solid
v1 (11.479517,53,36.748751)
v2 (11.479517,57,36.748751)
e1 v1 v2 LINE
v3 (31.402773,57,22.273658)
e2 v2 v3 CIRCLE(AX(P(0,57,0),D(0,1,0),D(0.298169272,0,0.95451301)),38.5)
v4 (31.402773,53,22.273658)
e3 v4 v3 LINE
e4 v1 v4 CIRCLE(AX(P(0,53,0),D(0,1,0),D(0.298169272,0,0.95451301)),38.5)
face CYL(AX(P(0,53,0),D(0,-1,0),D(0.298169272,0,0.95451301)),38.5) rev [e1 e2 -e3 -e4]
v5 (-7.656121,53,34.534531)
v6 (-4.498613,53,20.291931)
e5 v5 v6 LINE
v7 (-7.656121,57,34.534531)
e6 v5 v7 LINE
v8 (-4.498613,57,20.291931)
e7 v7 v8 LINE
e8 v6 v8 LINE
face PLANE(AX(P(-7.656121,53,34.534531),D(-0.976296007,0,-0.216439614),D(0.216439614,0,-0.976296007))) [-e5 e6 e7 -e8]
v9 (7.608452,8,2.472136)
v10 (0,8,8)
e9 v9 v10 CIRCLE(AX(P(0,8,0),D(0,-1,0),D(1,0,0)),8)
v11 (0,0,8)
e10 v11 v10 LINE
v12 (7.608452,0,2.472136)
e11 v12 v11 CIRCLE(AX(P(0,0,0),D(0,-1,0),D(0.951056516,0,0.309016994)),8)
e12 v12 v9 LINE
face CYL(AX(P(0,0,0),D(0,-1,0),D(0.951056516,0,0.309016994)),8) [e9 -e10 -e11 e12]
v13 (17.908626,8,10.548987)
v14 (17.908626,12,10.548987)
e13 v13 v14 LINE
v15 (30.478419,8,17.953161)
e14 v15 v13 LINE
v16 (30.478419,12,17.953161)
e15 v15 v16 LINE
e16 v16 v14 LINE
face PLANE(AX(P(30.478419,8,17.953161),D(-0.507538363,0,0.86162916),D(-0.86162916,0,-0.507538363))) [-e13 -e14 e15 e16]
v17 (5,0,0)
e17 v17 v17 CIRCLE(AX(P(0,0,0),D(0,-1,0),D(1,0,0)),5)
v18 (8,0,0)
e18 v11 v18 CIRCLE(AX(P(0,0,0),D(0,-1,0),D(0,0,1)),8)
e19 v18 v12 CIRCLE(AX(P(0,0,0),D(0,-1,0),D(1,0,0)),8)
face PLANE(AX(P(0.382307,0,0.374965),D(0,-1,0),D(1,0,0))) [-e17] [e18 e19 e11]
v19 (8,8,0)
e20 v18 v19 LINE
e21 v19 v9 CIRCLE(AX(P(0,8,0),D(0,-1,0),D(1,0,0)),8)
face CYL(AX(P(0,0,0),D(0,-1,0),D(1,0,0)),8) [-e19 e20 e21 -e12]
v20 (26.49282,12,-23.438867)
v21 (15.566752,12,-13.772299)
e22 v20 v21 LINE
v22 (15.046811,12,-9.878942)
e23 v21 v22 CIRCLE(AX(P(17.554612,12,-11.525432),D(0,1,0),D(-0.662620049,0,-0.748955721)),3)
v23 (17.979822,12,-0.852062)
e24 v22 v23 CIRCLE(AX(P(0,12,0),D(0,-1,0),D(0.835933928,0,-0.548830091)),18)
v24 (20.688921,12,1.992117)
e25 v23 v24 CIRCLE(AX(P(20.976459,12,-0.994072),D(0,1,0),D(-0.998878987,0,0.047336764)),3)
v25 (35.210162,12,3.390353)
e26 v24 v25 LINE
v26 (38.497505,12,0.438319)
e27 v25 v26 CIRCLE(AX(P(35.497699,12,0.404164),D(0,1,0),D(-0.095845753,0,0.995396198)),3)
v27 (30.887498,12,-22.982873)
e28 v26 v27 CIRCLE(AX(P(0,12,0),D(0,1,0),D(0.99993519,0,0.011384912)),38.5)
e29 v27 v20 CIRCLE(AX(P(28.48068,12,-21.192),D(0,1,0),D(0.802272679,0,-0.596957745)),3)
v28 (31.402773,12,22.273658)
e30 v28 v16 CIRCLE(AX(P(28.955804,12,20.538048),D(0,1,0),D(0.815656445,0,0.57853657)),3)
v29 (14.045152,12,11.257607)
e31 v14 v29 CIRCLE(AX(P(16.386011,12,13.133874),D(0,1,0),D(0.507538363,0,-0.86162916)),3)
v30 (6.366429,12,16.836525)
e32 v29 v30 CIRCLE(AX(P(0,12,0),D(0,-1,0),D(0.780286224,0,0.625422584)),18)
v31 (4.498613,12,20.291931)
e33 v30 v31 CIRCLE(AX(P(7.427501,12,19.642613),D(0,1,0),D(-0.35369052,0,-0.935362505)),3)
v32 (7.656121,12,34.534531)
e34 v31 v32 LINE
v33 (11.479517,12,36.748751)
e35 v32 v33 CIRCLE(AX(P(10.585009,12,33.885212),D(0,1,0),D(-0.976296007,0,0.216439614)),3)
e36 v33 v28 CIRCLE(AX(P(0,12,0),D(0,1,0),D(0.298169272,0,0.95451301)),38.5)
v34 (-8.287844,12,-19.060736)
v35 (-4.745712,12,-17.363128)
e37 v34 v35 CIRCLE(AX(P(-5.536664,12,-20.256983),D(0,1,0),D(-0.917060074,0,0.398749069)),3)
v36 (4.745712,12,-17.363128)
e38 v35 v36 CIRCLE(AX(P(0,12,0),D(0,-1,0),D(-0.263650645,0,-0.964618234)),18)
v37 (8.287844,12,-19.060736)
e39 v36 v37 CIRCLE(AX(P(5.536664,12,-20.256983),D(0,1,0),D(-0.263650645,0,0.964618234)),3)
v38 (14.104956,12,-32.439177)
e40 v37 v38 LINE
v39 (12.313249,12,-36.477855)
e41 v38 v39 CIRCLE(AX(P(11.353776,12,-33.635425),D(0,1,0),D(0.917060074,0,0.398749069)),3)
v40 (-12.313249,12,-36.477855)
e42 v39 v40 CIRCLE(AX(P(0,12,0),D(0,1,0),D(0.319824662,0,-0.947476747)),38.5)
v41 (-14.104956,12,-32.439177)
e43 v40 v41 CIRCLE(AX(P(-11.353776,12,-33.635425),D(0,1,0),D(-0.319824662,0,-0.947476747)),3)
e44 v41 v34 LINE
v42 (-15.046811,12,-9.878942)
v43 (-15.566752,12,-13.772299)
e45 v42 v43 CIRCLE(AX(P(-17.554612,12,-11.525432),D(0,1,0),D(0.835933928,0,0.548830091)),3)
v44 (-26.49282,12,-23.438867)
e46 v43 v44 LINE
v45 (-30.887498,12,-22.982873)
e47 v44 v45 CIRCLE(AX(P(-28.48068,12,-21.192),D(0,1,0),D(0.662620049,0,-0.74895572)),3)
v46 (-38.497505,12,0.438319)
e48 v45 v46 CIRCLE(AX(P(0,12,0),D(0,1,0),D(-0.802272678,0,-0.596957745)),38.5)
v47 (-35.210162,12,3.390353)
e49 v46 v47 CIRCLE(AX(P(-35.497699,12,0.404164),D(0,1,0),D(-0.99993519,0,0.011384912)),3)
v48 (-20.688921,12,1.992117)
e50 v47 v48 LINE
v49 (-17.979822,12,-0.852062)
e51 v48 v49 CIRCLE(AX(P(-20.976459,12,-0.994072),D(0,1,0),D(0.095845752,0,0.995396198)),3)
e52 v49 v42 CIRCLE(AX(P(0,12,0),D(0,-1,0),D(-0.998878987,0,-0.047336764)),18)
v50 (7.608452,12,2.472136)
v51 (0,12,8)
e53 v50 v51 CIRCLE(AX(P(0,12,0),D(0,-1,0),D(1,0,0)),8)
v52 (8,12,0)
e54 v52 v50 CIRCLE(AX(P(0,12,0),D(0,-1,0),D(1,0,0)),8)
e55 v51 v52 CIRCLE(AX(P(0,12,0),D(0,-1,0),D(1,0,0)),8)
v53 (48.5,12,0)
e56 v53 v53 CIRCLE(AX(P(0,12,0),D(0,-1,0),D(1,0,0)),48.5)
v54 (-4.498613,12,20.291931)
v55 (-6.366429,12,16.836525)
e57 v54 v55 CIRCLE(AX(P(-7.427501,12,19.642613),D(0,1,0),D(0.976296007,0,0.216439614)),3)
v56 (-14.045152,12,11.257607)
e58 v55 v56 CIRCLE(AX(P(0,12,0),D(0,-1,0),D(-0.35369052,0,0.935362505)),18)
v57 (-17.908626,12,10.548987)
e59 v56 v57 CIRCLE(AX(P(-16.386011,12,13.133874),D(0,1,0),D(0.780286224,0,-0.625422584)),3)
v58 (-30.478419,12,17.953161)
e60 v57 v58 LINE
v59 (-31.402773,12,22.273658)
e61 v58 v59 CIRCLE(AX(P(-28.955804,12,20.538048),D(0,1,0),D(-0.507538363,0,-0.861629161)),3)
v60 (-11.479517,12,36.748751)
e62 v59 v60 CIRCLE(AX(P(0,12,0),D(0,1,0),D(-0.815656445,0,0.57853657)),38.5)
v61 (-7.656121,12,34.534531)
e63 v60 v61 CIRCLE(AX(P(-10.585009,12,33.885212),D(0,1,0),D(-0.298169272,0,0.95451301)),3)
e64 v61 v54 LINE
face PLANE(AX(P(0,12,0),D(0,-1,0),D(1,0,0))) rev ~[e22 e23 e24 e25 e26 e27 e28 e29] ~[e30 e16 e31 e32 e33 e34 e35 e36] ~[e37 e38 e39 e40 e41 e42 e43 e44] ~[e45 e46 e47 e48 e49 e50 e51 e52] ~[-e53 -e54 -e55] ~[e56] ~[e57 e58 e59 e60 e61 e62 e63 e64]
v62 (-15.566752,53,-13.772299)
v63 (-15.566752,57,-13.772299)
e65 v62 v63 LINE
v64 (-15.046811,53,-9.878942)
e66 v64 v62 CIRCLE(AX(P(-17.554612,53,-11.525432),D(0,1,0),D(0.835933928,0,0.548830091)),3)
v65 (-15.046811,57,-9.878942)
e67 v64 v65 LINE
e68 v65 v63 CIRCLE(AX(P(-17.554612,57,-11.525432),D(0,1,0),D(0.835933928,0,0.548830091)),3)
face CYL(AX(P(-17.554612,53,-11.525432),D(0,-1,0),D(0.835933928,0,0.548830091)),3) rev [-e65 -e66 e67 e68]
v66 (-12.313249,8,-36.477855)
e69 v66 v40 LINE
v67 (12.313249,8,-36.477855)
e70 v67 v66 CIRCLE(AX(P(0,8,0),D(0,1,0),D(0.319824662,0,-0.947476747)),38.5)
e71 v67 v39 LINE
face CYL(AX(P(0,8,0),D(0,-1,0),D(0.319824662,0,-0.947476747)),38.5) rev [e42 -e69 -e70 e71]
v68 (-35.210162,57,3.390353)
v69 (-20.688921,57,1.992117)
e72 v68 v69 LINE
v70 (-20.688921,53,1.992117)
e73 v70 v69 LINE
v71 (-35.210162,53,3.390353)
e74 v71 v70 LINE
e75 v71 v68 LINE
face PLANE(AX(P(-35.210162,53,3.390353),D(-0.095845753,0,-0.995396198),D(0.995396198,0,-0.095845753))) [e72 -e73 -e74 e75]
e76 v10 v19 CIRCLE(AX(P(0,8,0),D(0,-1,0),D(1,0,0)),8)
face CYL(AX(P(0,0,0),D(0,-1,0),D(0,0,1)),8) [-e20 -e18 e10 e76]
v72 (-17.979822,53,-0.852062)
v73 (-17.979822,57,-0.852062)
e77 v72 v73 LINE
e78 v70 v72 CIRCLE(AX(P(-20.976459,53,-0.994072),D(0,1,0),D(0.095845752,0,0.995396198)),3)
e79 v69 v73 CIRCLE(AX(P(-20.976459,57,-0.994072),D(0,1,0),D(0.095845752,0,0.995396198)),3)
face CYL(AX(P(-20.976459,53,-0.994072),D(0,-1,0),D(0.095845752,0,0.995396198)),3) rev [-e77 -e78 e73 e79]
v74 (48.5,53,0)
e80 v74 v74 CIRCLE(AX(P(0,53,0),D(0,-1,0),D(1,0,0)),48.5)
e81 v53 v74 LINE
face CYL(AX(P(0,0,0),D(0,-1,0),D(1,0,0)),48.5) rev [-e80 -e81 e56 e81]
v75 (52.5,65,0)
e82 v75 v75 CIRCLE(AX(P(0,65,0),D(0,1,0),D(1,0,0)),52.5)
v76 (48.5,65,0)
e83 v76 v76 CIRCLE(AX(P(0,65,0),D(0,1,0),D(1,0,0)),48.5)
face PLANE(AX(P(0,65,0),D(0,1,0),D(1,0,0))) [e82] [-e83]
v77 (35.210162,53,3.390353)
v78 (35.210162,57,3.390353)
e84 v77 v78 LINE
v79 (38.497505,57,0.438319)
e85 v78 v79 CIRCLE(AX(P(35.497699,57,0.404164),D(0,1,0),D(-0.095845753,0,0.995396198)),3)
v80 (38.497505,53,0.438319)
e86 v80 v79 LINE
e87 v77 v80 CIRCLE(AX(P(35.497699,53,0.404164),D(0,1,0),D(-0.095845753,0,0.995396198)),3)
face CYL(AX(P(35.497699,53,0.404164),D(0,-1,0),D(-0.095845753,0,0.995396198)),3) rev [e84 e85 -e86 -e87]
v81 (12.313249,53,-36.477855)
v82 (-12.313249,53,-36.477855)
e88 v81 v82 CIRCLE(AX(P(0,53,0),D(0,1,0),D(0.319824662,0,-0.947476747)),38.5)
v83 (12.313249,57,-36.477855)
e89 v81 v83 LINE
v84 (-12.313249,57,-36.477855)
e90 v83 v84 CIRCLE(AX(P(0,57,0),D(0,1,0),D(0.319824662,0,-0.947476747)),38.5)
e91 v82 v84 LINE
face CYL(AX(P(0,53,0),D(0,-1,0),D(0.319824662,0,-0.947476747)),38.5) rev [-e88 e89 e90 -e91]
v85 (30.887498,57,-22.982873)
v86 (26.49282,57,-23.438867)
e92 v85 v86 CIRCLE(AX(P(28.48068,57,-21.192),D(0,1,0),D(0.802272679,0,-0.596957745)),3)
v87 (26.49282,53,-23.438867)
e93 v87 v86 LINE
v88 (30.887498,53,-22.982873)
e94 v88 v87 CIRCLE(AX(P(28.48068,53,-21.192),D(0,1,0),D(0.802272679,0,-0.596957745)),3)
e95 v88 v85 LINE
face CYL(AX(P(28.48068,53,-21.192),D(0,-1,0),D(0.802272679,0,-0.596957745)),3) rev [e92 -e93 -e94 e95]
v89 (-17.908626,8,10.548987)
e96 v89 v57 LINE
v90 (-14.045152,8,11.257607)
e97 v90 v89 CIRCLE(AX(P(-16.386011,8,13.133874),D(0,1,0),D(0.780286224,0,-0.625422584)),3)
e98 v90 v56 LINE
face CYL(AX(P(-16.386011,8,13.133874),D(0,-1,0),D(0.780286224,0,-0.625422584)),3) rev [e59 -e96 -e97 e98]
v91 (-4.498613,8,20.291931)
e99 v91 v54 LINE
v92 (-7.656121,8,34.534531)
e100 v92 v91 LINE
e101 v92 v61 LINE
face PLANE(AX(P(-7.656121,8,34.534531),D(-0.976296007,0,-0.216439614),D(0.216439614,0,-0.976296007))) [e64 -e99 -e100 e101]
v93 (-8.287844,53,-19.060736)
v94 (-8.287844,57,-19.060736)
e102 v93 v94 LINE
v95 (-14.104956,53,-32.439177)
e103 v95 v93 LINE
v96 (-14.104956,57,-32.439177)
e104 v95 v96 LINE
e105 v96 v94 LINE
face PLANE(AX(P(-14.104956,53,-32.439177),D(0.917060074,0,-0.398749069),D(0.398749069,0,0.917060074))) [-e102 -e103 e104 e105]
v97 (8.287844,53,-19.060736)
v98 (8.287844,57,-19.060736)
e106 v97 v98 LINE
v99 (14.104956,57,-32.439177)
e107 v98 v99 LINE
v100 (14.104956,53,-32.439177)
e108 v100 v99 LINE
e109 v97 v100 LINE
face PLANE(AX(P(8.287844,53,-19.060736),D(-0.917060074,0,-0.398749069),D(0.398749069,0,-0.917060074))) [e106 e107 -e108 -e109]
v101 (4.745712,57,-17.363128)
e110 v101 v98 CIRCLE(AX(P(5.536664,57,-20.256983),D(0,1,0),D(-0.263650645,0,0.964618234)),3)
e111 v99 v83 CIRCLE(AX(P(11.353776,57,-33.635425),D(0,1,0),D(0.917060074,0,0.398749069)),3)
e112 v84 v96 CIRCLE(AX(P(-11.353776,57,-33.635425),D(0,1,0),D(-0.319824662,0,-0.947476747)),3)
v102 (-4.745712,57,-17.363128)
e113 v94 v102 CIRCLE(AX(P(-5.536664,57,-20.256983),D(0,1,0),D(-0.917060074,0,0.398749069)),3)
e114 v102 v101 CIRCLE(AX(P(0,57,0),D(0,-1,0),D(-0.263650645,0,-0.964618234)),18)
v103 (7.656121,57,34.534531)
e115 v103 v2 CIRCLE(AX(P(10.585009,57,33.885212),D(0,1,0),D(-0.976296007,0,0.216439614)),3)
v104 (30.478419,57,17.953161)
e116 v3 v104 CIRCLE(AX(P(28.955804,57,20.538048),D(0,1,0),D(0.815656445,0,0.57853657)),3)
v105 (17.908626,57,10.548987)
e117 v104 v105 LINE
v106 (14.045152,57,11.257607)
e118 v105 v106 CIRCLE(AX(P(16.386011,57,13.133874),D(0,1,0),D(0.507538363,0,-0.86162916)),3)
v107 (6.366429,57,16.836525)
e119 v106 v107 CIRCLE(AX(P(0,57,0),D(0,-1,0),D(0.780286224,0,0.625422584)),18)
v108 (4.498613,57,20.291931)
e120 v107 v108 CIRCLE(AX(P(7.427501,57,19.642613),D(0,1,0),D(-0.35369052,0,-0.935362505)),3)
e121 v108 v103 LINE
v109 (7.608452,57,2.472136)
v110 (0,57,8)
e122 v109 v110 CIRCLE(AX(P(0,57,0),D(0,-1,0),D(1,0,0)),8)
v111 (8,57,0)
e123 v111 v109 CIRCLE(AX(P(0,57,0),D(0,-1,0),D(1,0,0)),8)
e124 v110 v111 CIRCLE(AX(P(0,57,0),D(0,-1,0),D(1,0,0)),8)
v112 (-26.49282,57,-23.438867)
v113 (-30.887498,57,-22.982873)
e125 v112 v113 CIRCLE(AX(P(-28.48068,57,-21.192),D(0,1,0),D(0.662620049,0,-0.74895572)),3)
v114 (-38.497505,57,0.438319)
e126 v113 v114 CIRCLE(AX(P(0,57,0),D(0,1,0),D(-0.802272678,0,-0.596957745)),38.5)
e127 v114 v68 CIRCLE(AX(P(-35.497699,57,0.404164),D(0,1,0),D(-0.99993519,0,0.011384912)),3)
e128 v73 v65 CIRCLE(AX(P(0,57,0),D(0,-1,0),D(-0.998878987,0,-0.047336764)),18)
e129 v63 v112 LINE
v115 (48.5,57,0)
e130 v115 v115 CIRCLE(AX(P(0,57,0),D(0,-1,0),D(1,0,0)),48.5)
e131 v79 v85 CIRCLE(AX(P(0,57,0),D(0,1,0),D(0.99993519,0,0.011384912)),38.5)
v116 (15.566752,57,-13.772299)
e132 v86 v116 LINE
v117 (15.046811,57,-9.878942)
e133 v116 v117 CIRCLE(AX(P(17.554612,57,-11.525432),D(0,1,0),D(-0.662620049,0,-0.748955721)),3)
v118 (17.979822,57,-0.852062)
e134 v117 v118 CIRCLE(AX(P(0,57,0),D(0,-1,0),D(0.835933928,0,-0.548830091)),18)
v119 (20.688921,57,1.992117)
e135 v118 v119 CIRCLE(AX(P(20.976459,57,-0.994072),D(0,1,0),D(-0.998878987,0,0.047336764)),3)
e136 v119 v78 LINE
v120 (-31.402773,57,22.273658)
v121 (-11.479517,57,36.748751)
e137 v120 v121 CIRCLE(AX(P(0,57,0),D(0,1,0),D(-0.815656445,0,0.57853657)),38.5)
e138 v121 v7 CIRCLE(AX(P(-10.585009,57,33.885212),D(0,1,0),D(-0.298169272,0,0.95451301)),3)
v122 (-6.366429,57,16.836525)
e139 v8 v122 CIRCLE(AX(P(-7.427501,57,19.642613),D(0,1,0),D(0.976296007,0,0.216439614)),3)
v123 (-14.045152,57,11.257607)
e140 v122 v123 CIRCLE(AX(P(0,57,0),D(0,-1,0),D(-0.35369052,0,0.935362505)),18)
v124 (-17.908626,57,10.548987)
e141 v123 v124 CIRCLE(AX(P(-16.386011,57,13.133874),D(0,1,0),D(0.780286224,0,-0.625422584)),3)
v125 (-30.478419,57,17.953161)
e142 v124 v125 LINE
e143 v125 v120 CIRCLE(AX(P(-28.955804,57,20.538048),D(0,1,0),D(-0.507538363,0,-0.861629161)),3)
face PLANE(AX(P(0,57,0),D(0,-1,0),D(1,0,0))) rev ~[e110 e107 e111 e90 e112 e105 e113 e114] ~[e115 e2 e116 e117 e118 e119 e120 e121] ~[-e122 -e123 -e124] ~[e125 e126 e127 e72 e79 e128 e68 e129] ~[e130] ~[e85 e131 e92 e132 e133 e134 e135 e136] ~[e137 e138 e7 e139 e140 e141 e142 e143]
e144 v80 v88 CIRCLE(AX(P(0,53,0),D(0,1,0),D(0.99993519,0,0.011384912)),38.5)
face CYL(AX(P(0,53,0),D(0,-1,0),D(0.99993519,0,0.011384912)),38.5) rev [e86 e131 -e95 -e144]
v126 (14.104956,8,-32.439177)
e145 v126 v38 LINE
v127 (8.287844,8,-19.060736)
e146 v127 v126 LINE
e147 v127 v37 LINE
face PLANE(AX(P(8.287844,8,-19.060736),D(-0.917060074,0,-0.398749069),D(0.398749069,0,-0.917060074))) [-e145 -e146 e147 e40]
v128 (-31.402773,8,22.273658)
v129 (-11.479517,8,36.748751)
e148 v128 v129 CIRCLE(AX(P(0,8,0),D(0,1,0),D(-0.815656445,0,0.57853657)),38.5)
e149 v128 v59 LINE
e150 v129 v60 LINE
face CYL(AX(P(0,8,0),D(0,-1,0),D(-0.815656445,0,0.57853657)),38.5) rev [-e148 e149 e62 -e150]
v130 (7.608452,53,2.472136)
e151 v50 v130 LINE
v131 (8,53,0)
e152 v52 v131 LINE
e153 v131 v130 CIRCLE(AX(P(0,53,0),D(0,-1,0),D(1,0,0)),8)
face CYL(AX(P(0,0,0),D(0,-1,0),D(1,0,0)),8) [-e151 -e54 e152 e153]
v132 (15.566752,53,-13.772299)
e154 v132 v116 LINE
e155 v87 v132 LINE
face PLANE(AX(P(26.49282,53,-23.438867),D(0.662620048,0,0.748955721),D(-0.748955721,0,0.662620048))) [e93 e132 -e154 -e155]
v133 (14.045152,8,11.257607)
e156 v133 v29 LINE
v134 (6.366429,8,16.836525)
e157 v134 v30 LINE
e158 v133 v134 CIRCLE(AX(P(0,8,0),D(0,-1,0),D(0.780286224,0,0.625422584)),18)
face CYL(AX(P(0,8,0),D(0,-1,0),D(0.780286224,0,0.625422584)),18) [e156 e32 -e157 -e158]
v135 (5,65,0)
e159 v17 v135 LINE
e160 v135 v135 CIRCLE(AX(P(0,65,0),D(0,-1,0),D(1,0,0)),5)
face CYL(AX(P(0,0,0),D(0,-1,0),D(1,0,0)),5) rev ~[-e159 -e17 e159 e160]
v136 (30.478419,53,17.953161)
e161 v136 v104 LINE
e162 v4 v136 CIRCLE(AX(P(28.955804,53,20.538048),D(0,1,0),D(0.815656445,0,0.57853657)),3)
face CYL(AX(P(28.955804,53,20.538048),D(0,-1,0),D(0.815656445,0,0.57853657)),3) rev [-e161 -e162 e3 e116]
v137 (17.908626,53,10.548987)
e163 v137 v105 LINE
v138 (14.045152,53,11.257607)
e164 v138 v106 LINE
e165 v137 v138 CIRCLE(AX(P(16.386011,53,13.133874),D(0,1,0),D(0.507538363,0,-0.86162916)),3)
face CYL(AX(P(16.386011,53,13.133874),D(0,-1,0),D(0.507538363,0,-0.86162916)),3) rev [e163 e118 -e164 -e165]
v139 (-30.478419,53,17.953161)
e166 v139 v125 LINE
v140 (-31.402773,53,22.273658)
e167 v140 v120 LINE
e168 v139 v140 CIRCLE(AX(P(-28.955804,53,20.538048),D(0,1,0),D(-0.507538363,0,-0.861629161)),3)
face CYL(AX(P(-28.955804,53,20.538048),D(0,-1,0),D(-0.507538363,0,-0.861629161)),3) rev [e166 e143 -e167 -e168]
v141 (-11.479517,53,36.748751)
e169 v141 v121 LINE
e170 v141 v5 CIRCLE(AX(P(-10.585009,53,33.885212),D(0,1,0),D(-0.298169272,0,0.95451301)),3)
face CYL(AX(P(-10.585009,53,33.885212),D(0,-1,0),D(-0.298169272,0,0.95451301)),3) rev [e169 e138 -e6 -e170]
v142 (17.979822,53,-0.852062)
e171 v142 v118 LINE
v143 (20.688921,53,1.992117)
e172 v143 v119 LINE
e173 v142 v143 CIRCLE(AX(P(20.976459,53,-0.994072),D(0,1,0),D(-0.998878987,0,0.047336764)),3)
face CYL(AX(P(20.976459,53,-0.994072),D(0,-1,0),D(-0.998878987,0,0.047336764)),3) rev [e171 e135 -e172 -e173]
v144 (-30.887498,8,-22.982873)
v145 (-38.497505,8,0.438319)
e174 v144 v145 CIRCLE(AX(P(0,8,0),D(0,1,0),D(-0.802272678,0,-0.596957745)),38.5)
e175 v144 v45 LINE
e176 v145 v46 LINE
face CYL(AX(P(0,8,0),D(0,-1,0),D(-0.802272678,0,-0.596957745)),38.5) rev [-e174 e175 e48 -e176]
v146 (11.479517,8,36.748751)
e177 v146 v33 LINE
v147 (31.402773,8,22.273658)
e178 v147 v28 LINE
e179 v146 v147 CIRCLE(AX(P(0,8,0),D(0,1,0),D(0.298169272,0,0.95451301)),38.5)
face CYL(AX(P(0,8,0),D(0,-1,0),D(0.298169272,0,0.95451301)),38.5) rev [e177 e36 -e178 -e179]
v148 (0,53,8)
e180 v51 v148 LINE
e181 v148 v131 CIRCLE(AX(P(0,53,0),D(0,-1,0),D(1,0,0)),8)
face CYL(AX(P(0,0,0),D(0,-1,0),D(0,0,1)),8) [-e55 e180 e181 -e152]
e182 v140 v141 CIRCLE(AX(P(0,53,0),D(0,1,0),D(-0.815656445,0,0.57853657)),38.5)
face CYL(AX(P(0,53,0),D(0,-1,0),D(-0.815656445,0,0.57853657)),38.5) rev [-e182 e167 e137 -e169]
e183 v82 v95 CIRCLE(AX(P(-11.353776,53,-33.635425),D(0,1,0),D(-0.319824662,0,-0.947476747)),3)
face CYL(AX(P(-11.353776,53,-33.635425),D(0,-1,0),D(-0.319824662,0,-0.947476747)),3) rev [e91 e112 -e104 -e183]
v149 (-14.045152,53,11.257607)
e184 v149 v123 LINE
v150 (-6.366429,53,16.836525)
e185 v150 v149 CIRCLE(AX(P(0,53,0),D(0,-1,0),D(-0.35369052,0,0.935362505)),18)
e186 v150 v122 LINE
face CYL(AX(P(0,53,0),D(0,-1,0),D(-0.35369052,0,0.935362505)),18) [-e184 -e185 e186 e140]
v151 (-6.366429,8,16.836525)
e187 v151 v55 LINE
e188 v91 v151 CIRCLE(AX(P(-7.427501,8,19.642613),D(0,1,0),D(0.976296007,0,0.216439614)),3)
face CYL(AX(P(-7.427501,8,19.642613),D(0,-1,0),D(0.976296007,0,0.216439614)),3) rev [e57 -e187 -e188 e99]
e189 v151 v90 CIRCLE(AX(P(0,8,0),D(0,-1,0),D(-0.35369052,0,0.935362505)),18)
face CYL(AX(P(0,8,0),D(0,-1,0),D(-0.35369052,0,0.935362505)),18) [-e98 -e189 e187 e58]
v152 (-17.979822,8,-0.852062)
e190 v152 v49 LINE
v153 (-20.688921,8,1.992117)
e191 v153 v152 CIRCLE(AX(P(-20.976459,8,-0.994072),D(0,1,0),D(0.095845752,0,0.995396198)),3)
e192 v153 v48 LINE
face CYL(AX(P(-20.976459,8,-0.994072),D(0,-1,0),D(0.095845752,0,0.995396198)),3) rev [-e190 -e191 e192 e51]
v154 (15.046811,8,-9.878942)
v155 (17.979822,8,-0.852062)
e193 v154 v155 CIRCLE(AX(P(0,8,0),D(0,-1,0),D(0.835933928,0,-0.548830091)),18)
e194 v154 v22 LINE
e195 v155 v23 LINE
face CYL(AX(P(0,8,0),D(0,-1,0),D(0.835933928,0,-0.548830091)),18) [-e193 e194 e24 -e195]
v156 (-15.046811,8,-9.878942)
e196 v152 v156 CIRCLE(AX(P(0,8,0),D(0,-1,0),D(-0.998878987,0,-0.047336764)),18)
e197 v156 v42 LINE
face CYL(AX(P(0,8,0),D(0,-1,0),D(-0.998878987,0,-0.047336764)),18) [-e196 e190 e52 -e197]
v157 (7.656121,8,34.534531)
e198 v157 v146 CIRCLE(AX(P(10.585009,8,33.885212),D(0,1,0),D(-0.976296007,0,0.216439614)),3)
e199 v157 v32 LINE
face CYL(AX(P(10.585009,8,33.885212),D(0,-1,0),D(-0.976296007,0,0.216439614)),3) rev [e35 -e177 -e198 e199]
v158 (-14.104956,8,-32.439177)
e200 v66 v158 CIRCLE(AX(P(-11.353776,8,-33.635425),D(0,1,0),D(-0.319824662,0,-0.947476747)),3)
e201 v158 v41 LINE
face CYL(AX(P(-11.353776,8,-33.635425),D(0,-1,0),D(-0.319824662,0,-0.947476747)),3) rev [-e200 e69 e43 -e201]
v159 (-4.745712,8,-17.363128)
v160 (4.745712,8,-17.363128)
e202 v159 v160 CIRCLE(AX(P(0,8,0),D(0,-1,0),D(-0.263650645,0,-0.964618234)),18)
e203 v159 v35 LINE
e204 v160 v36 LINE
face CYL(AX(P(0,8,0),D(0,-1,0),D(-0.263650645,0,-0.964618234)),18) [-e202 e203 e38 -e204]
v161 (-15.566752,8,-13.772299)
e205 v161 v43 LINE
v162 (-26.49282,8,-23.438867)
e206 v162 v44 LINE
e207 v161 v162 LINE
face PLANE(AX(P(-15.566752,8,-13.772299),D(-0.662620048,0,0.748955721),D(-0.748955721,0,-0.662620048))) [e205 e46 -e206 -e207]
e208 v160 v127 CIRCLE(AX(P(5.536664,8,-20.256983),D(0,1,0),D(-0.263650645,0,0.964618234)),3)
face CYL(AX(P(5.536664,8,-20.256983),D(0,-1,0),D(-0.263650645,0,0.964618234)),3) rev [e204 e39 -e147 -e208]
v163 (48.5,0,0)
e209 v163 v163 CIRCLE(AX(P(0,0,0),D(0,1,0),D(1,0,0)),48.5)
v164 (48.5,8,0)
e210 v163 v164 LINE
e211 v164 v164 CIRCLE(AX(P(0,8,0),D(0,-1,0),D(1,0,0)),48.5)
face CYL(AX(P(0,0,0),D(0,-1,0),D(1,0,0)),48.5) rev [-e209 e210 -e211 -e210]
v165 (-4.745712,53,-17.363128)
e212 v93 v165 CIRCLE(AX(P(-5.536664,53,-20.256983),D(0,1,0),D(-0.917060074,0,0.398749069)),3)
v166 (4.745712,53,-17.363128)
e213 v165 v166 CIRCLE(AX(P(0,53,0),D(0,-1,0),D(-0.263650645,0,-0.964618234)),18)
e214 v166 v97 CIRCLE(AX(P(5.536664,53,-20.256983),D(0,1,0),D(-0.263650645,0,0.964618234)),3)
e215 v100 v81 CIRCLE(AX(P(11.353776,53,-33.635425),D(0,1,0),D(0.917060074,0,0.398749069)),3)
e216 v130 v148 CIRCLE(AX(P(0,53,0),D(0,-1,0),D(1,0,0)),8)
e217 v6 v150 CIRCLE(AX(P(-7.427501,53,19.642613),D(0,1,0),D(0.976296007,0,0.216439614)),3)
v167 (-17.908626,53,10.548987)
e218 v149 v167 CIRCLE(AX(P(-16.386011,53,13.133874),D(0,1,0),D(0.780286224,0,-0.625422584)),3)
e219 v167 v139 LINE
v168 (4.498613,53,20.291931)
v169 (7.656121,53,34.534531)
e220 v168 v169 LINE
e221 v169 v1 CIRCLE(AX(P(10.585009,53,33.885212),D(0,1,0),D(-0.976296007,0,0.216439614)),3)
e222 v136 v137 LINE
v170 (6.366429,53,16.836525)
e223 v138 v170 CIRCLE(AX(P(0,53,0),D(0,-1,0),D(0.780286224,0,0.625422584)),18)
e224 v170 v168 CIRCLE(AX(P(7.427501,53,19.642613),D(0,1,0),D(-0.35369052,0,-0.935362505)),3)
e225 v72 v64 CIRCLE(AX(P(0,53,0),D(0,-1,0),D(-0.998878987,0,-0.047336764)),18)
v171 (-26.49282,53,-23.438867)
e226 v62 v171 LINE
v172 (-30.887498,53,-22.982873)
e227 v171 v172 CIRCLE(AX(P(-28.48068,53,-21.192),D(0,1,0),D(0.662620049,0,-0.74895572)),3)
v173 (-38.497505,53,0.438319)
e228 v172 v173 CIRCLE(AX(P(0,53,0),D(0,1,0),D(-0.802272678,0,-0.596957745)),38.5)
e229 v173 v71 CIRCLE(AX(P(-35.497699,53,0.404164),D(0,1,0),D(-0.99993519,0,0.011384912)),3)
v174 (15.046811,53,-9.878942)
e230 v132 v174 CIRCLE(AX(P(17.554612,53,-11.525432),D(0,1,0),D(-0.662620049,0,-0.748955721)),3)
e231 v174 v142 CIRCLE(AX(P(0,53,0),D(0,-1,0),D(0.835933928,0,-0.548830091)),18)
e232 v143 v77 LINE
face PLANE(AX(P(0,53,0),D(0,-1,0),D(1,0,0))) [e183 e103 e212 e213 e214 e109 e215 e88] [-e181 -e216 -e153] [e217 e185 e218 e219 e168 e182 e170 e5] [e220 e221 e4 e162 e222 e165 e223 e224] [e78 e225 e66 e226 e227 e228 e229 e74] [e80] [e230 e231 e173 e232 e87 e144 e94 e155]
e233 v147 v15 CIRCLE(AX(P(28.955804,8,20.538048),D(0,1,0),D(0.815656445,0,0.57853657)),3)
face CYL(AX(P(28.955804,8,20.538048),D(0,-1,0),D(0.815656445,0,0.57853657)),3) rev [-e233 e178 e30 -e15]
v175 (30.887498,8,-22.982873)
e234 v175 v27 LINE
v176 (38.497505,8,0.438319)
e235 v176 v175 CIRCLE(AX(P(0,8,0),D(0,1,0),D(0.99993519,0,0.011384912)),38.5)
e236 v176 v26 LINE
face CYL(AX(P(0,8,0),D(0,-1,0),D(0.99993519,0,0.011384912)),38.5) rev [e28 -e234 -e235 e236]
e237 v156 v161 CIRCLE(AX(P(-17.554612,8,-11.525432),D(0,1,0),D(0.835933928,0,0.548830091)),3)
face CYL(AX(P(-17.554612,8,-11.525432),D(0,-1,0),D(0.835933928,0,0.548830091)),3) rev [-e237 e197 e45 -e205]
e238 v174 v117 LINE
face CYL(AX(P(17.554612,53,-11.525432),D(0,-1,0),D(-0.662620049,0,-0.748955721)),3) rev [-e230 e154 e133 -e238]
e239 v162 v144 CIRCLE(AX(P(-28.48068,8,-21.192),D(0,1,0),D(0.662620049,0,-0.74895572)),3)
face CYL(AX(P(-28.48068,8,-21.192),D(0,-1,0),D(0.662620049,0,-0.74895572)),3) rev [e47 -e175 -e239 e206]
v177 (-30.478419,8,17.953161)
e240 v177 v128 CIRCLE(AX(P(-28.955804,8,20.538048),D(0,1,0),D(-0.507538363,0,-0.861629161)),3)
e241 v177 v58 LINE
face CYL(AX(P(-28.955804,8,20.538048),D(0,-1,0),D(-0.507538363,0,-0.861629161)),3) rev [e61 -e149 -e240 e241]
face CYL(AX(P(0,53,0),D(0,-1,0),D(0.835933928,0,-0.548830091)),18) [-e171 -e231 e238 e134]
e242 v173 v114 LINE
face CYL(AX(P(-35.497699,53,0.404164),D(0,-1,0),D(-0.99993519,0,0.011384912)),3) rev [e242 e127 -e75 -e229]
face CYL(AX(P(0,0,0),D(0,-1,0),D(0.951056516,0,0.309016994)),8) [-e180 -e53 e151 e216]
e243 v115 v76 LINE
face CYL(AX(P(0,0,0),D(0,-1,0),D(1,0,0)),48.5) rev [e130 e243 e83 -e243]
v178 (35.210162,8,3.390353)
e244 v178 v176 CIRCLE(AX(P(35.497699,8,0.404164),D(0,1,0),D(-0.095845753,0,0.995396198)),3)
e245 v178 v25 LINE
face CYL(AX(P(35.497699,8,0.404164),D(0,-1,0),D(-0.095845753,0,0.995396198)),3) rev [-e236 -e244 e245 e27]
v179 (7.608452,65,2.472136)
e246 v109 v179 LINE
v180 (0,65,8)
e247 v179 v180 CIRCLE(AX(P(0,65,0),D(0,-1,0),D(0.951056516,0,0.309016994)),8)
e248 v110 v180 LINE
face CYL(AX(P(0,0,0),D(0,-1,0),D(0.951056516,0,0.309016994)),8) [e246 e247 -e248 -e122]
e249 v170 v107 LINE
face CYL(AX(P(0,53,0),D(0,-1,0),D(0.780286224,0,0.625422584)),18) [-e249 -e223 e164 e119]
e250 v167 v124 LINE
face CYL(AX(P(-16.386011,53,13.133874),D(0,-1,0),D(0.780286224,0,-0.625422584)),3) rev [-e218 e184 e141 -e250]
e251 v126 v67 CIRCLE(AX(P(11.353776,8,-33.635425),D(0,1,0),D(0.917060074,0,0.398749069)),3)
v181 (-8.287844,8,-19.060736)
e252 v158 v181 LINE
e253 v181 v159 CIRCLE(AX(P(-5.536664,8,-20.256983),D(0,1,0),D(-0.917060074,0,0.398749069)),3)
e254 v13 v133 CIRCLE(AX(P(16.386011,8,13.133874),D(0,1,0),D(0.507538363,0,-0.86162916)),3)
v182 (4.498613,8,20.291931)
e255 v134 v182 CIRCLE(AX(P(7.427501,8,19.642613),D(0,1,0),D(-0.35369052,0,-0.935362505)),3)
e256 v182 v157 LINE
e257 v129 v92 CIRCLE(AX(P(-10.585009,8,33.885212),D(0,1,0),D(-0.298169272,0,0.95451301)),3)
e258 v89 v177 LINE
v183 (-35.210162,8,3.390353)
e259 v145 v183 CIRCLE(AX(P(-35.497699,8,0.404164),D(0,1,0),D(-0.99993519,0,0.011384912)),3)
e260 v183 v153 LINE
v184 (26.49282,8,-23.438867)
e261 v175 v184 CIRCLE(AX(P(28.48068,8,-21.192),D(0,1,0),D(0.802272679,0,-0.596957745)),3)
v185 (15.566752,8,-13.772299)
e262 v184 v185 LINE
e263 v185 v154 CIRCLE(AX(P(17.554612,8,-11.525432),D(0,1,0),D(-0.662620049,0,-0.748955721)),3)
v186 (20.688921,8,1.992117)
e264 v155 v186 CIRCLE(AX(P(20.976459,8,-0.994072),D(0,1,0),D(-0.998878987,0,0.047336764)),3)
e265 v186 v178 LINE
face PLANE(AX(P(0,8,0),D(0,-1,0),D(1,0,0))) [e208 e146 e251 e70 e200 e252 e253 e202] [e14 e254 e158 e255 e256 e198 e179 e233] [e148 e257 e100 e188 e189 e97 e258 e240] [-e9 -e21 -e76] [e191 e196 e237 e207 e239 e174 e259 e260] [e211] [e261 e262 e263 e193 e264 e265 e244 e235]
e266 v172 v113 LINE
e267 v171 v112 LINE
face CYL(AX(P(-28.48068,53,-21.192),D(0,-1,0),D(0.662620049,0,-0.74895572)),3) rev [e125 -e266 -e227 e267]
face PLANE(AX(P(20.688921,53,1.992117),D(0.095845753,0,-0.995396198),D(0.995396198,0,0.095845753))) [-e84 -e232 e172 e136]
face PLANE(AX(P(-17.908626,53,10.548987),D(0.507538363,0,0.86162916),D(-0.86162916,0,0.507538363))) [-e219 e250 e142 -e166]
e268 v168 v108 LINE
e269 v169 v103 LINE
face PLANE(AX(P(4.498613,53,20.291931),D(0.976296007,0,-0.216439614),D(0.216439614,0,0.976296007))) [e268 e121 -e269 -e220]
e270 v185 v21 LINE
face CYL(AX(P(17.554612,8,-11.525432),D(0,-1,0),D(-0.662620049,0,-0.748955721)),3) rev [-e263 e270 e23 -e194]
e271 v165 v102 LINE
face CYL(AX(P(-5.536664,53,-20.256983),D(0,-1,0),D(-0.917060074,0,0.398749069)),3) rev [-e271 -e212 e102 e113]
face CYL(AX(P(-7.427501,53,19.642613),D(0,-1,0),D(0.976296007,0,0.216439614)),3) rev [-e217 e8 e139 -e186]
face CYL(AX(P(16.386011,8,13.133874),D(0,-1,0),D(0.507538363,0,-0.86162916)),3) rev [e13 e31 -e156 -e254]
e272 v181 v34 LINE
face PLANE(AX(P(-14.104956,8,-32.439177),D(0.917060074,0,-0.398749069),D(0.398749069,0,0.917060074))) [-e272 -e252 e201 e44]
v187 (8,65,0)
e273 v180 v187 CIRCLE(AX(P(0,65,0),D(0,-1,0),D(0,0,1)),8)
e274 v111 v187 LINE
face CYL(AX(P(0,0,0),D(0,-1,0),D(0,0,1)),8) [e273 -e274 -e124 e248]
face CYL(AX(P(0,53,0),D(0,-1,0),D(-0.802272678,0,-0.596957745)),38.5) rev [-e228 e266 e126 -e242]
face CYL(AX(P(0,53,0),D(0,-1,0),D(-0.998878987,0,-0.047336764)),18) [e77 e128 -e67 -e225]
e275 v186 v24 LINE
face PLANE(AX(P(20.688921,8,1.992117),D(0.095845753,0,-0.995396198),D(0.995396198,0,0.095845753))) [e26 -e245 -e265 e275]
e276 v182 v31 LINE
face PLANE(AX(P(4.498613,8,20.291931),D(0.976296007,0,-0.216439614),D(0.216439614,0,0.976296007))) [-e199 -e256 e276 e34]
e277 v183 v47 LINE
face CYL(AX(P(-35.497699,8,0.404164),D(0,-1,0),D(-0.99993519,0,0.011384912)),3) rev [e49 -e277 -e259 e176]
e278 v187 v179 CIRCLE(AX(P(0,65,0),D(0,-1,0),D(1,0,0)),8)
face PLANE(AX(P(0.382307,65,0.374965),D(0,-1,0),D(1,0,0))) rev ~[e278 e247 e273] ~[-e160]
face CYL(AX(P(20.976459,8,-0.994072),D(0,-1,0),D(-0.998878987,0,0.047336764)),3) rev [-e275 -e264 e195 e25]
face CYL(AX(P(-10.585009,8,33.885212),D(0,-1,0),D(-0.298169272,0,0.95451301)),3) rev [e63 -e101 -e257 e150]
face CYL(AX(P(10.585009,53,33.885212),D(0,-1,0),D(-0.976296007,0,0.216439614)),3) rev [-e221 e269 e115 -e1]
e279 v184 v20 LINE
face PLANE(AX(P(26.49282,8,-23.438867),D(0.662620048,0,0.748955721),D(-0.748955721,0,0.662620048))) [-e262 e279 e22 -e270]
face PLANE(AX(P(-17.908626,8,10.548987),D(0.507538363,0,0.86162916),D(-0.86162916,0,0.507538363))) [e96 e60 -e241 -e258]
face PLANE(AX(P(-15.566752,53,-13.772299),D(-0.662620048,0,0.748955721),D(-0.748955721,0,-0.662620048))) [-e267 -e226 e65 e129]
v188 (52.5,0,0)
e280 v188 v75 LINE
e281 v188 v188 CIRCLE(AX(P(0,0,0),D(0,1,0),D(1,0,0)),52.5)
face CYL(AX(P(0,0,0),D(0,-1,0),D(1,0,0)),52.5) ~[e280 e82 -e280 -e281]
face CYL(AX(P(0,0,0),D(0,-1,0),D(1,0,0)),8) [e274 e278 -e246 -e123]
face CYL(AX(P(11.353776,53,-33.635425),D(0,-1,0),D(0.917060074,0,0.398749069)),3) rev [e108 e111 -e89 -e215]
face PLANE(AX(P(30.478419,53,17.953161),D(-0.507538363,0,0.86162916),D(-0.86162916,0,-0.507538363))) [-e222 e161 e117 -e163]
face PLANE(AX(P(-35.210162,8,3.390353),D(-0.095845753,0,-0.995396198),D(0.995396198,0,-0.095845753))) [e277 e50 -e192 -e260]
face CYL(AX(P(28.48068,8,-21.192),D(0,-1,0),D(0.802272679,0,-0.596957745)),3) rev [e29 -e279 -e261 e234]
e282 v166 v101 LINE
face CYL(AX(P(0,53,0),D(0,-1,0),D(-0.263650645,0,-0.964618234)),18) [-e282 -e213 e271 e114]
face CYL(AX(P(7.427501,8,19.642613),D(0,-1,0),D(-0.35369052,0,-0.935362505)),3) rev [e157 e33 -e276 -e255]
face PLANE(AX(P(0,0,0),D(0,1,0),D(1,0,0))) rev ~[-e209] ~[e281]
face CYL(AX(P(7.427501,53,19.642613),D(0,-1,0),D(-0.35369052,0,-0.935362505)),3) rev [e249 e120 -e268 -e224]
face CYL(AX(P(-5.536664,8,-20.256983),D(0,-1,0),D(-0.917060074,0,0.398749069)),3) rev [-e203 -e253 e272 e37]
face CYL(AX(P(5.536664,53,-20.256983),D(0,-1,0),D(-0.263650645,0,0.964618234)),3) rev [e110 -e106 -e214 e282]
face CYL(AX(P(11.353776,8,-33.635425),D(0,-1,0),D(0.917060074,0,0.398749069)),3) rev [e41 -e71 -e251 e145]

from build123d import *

# Parameters (mm, degrees)
SKETCH1_R           = 52.5
SKETCH1_R_2         = 48.5
BOSS_EXTRUDE1_DEPTH = 65
SKETCH2_R           = 5
BOSS_EXTRUDE2_DEPTH = 65
BOSS_EXTRUDE3_START = -8
SKETCH2_3_R         = 48.5
SKETCH2_3_R_2       = 8
BOSS_EXTRUDE3_DEPTH = 4
BOSS_EXTRUDE4_START = -53
SKETCH2_4_R         = 48.5
SKETCH2_4_R_2       = 8
BOSS_EXTRUDE4_DEPTH = 4


with BuildPart() as part:
    # Sketch1 → Boss-Extrude1 (new body)
    with BuildSketch(Plane(origin=(0, 0, 0), x_dir=(1, 0, 0), z_dir=(0, 1, 0))):
        Circle(SKETCH1_R)
        Circle(SKETCH1_R_2, mode=Mode.SUBTRACT)
    extrude(amount=BOSS_EXTRUDE1_DEPTH)



with BuildPart() as body_2:
    # Sketch2 → Boss-Extrude2 (new body)
    with BuildSketch(Plane.XZ):
        with BuildLine():
            ThreePointArc((8, 0), (7.901506725, 1.25147572), (7.60845213, 2.472135955))
            ThreePointArc((7.60845213, 2.472135955), (4.702282018, 6.472135955), (0, 8))
            ThreePointArc((0, 8), (-5.656854249, -5.656854249), (8, 0))
        make_face()
        Circle(SKETCH2_R, mode=Mode.SUBTRACT)
    extrude(amount=-BOSS_EXTRUDE2_DEPTH)


with BuildPart() as part_1:
    add(part.part)

    add(body_2.part)  # Boss-Extrude3 merges body 2
    # Sketch2<3> → Boss-Extrude3 (add)
    with BuildSketch(Plane.XZ.offset(BOSS_EXTRUDE3_START)):
        Circle(SKETCH2_3_R)
        Circle(SKETCH2_3_R_2, mode=Mode.SUBTRACT)
        with BuildLine():
            Line((4.498612897, 20.291931451), (7.656121129, 34.53453068))
            ThreePointArc((7.656121129, 34.53453068), (9.081556968, 36.48129187), (11.479516965, 36.748750866))
            ThreePointArc((11.479516965, 36.748750866), (22.629732213, 31.147154283), (31.402773148, 22.273657954))
            ThreePointArc((31.402773148, 22.273657954), (31.889414918, 19.910413097), (30.4784189, 17.953160762))
            Line((30.4784189, 17.953160762), (17.908625798, 10.548986777))
            ThreePointArc((17.908625798, 10.548986777), (15.84479345, 10.183097432), (14.045152036, 11.257606507))
            ThreePointArc((14.045152036, 11.257606507), (10.580134541, 14.562305899), (6.366429359, 16.836525093))
            ThreePointArc((6.366429359, 16.836525093), (4.78839072, 18.216044222), (4.498612897, 20.291931451))
        make_face(mode=Mode.SUBTRACT)
        with BuildLine():
            ThreePointArc((-31.402773148, 22.273657954), (-22.629732213, 31.147154283), (-11.479516965, 36.748750866))
            ThreePointArc((-11.479516965, 36.748750866), (-9.081556968, 36.48129187), (-7.656121129, 34.53453068))
            Line((-7.656121129, 34.53453068), (-4.498612897, 20.291931451))
            ThreePointArc((-4.498612897, 20.291931451), (-4.78839072, 18.216044222), (-6.366429359, 16.836525093))
            ThreePointArc((-6.366429359, 16.836525093), (-10.580134541, 14.562305899), (-14.045152036, 11.257606507))
            ThreePointArc((-14.045152036, 11.257606507), (-15.84479345, 10.183097432), (-17.908625798, 10.548986777))
            Line((-17.908625798, 10.548986777), (-30.4784189, 17.953160762))
            ThreePointArc((-30.4784189, 17.953160762), (-31.889414918, 19.910413097), (-31.402773148, 22.273657954))
        make_face(mode=Mode.SUBTRACT)
        with BuildLine():
            Line((8.287843762, -19.060735709), (14.104955724, -32.439177302))
            ThreePointArc((14.104955724, -32.439177302), (14.096031424, -34.851990353), (12.313249487, -36.477854749))
            ThreePointArc((12.313249487, -36.477854749), (0, -38.5), (-12.313249487, -36.477854749))
            ThreePointArc((-12.313249487, -36.477854749), (-14.096031424, -34.851990353), (-14.104955724, -32.439177302))
            Line((-14.104955724, -32.439177302), (-8.287843762, -19.060735709))
            ThreePointArc((-8.287843762, -19.060735709), (-6.83323268, -17.551634794), (-4.745711605, -17.363128214))
            ThreePointArc((-4.745711605, -17.363128214), (0, -18), (4.745711605, -17.363128214))
            ThreePointArc((4.745711605, -17.363128214), (6.83323268, -17.551634794), (8.287843762, -19.060735709))
        make_face(mode=Mode.SUBTRACT)
        with BuildLine():
            Line((-15.566752332, -13.772299075), (-26.492819932, -23.438867123))
            ThreePointArc((-26.492819932, -23.438867123), (-28.790299268, -24.175979847), (-30.887498112, -22.982873197))
            ThreePointArc((-30.887498112, -22.982873197), (-36.615675877, -11.897154283), (-38.497504807, 0.438319126))
            ThreePointArc((-38.497504807, 0.438319126), (-37.502125795, 2.636265233), (-35.21016198, 3.390352984))
            Line((-35.21016198, 3.390352984), (-20.688921471, 1.992116557))
            ThreePointArc((-20.688921471, 1.992116557), (-18.804181667, 1.075037038), (-17.979821767, -0.852061747))
            ThreePointArc((-17.979821767, -0.852061747), (-17.119017293, -5.562305899), (-15.046810695, -9.87894164))
            ThreePointArc((-15.046810695, -9.87894164), (-14.581011618, -11.922543898), (-15.566752332, -13.772299075))
        make_face(mode=Mode.SUBTRACT)
        with BuildLine():
            Line((20.688921471, 1.992116557), (35.21016198, 3.390352984))
            ThreePointArc((35.21016198, 3.390352984), (37.502125795, 2.636265233), (38.497504807, 0.438319126))
            ThreePointArc((38.497504807, 0.438319126), (36.615675877, -11.897154283), (30.887498112, -22.982873197))
            ThreePointArc((30.887498112, -22.982873197), (28.790299268, -24.175979847), (26.492819932, -23.438867123))
            Line((26.492819932, -23.438867123), (15.566752332, -13.772299075))
            ThreePointArc((15.566752332, -13.772299075), (14.581011618, -11.922543898), (15.046810695, -9.87894164))
            ThreePointArc((15.046810695, -9.87894164), (17.119017293, -5.562305899), (17.979821767, -0.852061747))
            ThreePointArc((17.979821767, -0.852061747), (18.804181667, 1.075037038), (20.688921471, 1.992116557))
        make_face(mode=Mode.SUBTRACT)
    extrude(amount=-BOSS_EXTRUDE3_DEPTH)

    # Sketch2<4> → Boss-Extrude4 (add)
    with BuildSketch(Plane.XZ.offset(BOSS_EXTRUDE4_START)):
        Circle(SKETCH2_4_R)
        Circle(SKETCH2_4_R_2, mode=Mode.SUBTRACT)
        with BuildLine():
            Line((4.498612897, 20.291931451), (7.656121129, 34.53453068))
            ThreePointArc((7.656121129, 34.53453068), (9.081556968, 36.48129187), (11.479516965, 36.748750866))
            ThreePointArc((11.479516965, 36.748750866), (22.629732213, 31.147154283), (31.402773148, 22.273657954))
            ThreePointArc((31.402773148, 22.273657954), (31.889414918, 19.910413097), (30.4784189, 17.953160762))
            Line((30.4784189, 17.953160762), (17.908625798, 10.548986777))
            ThreePointArc((17.908625798, 10.548986777), (15.84479345, 10.183097432), (14.045152036, 11.257606507))
            ThreePointArc((14.045152036, 11.257606507), (10.580134541, 14.562305899), (6.366429359, 16.836525093))
            ThreePointArc((6.366429359, 16.836525093), (4.78839072, 18.216044222), (4.498612897, 20.291931451))
        make_face(mode=Mode.SUBTRACT)
        with BuildLine():
            ThreePointArc((-31.402773148, 22.273657954), (-22.629732213, 31.147154283), (-11.479516965, 36.748750866))
            ThreePointArc((-11.479516965, 36.748750866), (-9.081556968, 36.48129187), (-7.656121129, 34.53453068))
            Line((-7.656121129, 34.53453068), (-4.498612897, 20.291931451))
            ThreePointArc((-4.498612897, 20.291931451), (-4.78839072, 18.216044222), (-6.366429359, 16.836525093))
            ThreePointArc((-6.366429359, 16.836525093), (-10.580134541, 14.562305899), (-14.045152036, 11.257606507))
            ThreePointArc((-14.045152036, 11.257606507), (-15.84479345, 10.183097432), (-17.908625798, 10.548986777))
            Line((-17.908625798, 10.548986777), (-30.4784189, 17.953160762))
            ThreePointArc((-30.4784189, 17.953160762), (-31.889414918, 19.910413097), (-31.402773148, 22.273657954))
        make_face(mode=Mode.SUBTRACT)
        with BuildLine():
            Line((8.287843762, -19.060735709), (14.104955724, -32.439177302))
            ThreePointArc((14.104955724, -32.439177302), (14.096031424, -34.851990353), (12.313249487, -36.477854749))
            ThreePointArc((12.313249487, -36.477854749), (0, -38.5), (-12.313249487, -36.477854749))
            ThreePointArc((-12.313249487, -36.477854749), (-14.096031424, -34.851990353), (-14.104955724, -32.439177302))
            Line((-14.104955724, -32.439177302), (-8.287843762, -19.060735709))
            ThreePointArc((-8.287843762, -19.060735709), (-6.83323268, -17.551634794), (-4.745711605, -17.363128214))
            ThreePointArc((-4.745711605, -17.363128214), (0, -18), (4.745711605, -17.363128214))
            ThreePointArc((4.745711605, -17.363128214), (6.83323268, -17.551634794), (8.287843762, -19.060735709))
        make_face(mode=Mode.SUBTRACT)
        with BuildLine():
            Line((-15.566752332, -13.772299075), (-26.492819932, -23.438867123))
            ThreePointArc((-26.492819932, -23.438867123), (-28.790299268, -24.175979847), (-30.887498112, -22.982873197))
            ThreePointArc((-30.887498112, -22.982873197), (-36.615675877, -11.897154283), (-38.497504807, 0.438319126))
            ThreePointArc((-38.497504807, 0.438319126), (-37.502125795, 2.636265233), (-35.21016198, 3.390352984))
            Line((-35.21016198, 3.390352984), (-20.688921471, 1.992116557))
            ThreePointArc((-20.688921471, 1.992116557), (-18.804181667, 1.075037038), (-17.979821767, -0.852061747))
            ThreePointArc((-17.979821767, -0.852061747), (-17.119017293, -5.562305899), (-15.046810695, -9.87894164))
            ThreePointArc((-15.046810695, -9.87894164), (-14.581011618, -11.922543898), (-15.566752332, -13.772299075))
        make_face(mode=Mode.SUBTRACT)
        with BuildLine():
            Line((20.688921471, 1.992116557), (35.21016198, 3.390352984))
            ThreePointArc((35.21016198, 3.390352984), (37.502125795, 2.636265233), (38.497504807, 0.438319126))
            ThreePointArc((38.497504807, 0.438319126), (36.615675877, -11.897154283), (30.887498112, -22.982873197))
            ThreePointArc((30.887498112, -22.982873197), (28.790299268, -24.175979847), (26.492819932, -23.438867123))
            Line((26.492819932, -23.438867123), (15.566752332, -13.772299075))
            ThreePointArc((15.566752332, -13.772299075), (14.581011618, -11.922543898), (15.046810695, -9.87894164))
            ThreePointArc((15.046810695, -9.87894164), (17.119017293, -5.562305899), (17.979821767, -0.852061747))
            ThreePointArc((17.979821767, -0.852061747), (18.804181667, 1.075037038), (20.688921471, 1.992116557))
        make_face(mode=Mode.SUBTRACT)
    extrude(amount=-BOSS_EXTRUDE4_DEPTH)


solid = part_1.part
